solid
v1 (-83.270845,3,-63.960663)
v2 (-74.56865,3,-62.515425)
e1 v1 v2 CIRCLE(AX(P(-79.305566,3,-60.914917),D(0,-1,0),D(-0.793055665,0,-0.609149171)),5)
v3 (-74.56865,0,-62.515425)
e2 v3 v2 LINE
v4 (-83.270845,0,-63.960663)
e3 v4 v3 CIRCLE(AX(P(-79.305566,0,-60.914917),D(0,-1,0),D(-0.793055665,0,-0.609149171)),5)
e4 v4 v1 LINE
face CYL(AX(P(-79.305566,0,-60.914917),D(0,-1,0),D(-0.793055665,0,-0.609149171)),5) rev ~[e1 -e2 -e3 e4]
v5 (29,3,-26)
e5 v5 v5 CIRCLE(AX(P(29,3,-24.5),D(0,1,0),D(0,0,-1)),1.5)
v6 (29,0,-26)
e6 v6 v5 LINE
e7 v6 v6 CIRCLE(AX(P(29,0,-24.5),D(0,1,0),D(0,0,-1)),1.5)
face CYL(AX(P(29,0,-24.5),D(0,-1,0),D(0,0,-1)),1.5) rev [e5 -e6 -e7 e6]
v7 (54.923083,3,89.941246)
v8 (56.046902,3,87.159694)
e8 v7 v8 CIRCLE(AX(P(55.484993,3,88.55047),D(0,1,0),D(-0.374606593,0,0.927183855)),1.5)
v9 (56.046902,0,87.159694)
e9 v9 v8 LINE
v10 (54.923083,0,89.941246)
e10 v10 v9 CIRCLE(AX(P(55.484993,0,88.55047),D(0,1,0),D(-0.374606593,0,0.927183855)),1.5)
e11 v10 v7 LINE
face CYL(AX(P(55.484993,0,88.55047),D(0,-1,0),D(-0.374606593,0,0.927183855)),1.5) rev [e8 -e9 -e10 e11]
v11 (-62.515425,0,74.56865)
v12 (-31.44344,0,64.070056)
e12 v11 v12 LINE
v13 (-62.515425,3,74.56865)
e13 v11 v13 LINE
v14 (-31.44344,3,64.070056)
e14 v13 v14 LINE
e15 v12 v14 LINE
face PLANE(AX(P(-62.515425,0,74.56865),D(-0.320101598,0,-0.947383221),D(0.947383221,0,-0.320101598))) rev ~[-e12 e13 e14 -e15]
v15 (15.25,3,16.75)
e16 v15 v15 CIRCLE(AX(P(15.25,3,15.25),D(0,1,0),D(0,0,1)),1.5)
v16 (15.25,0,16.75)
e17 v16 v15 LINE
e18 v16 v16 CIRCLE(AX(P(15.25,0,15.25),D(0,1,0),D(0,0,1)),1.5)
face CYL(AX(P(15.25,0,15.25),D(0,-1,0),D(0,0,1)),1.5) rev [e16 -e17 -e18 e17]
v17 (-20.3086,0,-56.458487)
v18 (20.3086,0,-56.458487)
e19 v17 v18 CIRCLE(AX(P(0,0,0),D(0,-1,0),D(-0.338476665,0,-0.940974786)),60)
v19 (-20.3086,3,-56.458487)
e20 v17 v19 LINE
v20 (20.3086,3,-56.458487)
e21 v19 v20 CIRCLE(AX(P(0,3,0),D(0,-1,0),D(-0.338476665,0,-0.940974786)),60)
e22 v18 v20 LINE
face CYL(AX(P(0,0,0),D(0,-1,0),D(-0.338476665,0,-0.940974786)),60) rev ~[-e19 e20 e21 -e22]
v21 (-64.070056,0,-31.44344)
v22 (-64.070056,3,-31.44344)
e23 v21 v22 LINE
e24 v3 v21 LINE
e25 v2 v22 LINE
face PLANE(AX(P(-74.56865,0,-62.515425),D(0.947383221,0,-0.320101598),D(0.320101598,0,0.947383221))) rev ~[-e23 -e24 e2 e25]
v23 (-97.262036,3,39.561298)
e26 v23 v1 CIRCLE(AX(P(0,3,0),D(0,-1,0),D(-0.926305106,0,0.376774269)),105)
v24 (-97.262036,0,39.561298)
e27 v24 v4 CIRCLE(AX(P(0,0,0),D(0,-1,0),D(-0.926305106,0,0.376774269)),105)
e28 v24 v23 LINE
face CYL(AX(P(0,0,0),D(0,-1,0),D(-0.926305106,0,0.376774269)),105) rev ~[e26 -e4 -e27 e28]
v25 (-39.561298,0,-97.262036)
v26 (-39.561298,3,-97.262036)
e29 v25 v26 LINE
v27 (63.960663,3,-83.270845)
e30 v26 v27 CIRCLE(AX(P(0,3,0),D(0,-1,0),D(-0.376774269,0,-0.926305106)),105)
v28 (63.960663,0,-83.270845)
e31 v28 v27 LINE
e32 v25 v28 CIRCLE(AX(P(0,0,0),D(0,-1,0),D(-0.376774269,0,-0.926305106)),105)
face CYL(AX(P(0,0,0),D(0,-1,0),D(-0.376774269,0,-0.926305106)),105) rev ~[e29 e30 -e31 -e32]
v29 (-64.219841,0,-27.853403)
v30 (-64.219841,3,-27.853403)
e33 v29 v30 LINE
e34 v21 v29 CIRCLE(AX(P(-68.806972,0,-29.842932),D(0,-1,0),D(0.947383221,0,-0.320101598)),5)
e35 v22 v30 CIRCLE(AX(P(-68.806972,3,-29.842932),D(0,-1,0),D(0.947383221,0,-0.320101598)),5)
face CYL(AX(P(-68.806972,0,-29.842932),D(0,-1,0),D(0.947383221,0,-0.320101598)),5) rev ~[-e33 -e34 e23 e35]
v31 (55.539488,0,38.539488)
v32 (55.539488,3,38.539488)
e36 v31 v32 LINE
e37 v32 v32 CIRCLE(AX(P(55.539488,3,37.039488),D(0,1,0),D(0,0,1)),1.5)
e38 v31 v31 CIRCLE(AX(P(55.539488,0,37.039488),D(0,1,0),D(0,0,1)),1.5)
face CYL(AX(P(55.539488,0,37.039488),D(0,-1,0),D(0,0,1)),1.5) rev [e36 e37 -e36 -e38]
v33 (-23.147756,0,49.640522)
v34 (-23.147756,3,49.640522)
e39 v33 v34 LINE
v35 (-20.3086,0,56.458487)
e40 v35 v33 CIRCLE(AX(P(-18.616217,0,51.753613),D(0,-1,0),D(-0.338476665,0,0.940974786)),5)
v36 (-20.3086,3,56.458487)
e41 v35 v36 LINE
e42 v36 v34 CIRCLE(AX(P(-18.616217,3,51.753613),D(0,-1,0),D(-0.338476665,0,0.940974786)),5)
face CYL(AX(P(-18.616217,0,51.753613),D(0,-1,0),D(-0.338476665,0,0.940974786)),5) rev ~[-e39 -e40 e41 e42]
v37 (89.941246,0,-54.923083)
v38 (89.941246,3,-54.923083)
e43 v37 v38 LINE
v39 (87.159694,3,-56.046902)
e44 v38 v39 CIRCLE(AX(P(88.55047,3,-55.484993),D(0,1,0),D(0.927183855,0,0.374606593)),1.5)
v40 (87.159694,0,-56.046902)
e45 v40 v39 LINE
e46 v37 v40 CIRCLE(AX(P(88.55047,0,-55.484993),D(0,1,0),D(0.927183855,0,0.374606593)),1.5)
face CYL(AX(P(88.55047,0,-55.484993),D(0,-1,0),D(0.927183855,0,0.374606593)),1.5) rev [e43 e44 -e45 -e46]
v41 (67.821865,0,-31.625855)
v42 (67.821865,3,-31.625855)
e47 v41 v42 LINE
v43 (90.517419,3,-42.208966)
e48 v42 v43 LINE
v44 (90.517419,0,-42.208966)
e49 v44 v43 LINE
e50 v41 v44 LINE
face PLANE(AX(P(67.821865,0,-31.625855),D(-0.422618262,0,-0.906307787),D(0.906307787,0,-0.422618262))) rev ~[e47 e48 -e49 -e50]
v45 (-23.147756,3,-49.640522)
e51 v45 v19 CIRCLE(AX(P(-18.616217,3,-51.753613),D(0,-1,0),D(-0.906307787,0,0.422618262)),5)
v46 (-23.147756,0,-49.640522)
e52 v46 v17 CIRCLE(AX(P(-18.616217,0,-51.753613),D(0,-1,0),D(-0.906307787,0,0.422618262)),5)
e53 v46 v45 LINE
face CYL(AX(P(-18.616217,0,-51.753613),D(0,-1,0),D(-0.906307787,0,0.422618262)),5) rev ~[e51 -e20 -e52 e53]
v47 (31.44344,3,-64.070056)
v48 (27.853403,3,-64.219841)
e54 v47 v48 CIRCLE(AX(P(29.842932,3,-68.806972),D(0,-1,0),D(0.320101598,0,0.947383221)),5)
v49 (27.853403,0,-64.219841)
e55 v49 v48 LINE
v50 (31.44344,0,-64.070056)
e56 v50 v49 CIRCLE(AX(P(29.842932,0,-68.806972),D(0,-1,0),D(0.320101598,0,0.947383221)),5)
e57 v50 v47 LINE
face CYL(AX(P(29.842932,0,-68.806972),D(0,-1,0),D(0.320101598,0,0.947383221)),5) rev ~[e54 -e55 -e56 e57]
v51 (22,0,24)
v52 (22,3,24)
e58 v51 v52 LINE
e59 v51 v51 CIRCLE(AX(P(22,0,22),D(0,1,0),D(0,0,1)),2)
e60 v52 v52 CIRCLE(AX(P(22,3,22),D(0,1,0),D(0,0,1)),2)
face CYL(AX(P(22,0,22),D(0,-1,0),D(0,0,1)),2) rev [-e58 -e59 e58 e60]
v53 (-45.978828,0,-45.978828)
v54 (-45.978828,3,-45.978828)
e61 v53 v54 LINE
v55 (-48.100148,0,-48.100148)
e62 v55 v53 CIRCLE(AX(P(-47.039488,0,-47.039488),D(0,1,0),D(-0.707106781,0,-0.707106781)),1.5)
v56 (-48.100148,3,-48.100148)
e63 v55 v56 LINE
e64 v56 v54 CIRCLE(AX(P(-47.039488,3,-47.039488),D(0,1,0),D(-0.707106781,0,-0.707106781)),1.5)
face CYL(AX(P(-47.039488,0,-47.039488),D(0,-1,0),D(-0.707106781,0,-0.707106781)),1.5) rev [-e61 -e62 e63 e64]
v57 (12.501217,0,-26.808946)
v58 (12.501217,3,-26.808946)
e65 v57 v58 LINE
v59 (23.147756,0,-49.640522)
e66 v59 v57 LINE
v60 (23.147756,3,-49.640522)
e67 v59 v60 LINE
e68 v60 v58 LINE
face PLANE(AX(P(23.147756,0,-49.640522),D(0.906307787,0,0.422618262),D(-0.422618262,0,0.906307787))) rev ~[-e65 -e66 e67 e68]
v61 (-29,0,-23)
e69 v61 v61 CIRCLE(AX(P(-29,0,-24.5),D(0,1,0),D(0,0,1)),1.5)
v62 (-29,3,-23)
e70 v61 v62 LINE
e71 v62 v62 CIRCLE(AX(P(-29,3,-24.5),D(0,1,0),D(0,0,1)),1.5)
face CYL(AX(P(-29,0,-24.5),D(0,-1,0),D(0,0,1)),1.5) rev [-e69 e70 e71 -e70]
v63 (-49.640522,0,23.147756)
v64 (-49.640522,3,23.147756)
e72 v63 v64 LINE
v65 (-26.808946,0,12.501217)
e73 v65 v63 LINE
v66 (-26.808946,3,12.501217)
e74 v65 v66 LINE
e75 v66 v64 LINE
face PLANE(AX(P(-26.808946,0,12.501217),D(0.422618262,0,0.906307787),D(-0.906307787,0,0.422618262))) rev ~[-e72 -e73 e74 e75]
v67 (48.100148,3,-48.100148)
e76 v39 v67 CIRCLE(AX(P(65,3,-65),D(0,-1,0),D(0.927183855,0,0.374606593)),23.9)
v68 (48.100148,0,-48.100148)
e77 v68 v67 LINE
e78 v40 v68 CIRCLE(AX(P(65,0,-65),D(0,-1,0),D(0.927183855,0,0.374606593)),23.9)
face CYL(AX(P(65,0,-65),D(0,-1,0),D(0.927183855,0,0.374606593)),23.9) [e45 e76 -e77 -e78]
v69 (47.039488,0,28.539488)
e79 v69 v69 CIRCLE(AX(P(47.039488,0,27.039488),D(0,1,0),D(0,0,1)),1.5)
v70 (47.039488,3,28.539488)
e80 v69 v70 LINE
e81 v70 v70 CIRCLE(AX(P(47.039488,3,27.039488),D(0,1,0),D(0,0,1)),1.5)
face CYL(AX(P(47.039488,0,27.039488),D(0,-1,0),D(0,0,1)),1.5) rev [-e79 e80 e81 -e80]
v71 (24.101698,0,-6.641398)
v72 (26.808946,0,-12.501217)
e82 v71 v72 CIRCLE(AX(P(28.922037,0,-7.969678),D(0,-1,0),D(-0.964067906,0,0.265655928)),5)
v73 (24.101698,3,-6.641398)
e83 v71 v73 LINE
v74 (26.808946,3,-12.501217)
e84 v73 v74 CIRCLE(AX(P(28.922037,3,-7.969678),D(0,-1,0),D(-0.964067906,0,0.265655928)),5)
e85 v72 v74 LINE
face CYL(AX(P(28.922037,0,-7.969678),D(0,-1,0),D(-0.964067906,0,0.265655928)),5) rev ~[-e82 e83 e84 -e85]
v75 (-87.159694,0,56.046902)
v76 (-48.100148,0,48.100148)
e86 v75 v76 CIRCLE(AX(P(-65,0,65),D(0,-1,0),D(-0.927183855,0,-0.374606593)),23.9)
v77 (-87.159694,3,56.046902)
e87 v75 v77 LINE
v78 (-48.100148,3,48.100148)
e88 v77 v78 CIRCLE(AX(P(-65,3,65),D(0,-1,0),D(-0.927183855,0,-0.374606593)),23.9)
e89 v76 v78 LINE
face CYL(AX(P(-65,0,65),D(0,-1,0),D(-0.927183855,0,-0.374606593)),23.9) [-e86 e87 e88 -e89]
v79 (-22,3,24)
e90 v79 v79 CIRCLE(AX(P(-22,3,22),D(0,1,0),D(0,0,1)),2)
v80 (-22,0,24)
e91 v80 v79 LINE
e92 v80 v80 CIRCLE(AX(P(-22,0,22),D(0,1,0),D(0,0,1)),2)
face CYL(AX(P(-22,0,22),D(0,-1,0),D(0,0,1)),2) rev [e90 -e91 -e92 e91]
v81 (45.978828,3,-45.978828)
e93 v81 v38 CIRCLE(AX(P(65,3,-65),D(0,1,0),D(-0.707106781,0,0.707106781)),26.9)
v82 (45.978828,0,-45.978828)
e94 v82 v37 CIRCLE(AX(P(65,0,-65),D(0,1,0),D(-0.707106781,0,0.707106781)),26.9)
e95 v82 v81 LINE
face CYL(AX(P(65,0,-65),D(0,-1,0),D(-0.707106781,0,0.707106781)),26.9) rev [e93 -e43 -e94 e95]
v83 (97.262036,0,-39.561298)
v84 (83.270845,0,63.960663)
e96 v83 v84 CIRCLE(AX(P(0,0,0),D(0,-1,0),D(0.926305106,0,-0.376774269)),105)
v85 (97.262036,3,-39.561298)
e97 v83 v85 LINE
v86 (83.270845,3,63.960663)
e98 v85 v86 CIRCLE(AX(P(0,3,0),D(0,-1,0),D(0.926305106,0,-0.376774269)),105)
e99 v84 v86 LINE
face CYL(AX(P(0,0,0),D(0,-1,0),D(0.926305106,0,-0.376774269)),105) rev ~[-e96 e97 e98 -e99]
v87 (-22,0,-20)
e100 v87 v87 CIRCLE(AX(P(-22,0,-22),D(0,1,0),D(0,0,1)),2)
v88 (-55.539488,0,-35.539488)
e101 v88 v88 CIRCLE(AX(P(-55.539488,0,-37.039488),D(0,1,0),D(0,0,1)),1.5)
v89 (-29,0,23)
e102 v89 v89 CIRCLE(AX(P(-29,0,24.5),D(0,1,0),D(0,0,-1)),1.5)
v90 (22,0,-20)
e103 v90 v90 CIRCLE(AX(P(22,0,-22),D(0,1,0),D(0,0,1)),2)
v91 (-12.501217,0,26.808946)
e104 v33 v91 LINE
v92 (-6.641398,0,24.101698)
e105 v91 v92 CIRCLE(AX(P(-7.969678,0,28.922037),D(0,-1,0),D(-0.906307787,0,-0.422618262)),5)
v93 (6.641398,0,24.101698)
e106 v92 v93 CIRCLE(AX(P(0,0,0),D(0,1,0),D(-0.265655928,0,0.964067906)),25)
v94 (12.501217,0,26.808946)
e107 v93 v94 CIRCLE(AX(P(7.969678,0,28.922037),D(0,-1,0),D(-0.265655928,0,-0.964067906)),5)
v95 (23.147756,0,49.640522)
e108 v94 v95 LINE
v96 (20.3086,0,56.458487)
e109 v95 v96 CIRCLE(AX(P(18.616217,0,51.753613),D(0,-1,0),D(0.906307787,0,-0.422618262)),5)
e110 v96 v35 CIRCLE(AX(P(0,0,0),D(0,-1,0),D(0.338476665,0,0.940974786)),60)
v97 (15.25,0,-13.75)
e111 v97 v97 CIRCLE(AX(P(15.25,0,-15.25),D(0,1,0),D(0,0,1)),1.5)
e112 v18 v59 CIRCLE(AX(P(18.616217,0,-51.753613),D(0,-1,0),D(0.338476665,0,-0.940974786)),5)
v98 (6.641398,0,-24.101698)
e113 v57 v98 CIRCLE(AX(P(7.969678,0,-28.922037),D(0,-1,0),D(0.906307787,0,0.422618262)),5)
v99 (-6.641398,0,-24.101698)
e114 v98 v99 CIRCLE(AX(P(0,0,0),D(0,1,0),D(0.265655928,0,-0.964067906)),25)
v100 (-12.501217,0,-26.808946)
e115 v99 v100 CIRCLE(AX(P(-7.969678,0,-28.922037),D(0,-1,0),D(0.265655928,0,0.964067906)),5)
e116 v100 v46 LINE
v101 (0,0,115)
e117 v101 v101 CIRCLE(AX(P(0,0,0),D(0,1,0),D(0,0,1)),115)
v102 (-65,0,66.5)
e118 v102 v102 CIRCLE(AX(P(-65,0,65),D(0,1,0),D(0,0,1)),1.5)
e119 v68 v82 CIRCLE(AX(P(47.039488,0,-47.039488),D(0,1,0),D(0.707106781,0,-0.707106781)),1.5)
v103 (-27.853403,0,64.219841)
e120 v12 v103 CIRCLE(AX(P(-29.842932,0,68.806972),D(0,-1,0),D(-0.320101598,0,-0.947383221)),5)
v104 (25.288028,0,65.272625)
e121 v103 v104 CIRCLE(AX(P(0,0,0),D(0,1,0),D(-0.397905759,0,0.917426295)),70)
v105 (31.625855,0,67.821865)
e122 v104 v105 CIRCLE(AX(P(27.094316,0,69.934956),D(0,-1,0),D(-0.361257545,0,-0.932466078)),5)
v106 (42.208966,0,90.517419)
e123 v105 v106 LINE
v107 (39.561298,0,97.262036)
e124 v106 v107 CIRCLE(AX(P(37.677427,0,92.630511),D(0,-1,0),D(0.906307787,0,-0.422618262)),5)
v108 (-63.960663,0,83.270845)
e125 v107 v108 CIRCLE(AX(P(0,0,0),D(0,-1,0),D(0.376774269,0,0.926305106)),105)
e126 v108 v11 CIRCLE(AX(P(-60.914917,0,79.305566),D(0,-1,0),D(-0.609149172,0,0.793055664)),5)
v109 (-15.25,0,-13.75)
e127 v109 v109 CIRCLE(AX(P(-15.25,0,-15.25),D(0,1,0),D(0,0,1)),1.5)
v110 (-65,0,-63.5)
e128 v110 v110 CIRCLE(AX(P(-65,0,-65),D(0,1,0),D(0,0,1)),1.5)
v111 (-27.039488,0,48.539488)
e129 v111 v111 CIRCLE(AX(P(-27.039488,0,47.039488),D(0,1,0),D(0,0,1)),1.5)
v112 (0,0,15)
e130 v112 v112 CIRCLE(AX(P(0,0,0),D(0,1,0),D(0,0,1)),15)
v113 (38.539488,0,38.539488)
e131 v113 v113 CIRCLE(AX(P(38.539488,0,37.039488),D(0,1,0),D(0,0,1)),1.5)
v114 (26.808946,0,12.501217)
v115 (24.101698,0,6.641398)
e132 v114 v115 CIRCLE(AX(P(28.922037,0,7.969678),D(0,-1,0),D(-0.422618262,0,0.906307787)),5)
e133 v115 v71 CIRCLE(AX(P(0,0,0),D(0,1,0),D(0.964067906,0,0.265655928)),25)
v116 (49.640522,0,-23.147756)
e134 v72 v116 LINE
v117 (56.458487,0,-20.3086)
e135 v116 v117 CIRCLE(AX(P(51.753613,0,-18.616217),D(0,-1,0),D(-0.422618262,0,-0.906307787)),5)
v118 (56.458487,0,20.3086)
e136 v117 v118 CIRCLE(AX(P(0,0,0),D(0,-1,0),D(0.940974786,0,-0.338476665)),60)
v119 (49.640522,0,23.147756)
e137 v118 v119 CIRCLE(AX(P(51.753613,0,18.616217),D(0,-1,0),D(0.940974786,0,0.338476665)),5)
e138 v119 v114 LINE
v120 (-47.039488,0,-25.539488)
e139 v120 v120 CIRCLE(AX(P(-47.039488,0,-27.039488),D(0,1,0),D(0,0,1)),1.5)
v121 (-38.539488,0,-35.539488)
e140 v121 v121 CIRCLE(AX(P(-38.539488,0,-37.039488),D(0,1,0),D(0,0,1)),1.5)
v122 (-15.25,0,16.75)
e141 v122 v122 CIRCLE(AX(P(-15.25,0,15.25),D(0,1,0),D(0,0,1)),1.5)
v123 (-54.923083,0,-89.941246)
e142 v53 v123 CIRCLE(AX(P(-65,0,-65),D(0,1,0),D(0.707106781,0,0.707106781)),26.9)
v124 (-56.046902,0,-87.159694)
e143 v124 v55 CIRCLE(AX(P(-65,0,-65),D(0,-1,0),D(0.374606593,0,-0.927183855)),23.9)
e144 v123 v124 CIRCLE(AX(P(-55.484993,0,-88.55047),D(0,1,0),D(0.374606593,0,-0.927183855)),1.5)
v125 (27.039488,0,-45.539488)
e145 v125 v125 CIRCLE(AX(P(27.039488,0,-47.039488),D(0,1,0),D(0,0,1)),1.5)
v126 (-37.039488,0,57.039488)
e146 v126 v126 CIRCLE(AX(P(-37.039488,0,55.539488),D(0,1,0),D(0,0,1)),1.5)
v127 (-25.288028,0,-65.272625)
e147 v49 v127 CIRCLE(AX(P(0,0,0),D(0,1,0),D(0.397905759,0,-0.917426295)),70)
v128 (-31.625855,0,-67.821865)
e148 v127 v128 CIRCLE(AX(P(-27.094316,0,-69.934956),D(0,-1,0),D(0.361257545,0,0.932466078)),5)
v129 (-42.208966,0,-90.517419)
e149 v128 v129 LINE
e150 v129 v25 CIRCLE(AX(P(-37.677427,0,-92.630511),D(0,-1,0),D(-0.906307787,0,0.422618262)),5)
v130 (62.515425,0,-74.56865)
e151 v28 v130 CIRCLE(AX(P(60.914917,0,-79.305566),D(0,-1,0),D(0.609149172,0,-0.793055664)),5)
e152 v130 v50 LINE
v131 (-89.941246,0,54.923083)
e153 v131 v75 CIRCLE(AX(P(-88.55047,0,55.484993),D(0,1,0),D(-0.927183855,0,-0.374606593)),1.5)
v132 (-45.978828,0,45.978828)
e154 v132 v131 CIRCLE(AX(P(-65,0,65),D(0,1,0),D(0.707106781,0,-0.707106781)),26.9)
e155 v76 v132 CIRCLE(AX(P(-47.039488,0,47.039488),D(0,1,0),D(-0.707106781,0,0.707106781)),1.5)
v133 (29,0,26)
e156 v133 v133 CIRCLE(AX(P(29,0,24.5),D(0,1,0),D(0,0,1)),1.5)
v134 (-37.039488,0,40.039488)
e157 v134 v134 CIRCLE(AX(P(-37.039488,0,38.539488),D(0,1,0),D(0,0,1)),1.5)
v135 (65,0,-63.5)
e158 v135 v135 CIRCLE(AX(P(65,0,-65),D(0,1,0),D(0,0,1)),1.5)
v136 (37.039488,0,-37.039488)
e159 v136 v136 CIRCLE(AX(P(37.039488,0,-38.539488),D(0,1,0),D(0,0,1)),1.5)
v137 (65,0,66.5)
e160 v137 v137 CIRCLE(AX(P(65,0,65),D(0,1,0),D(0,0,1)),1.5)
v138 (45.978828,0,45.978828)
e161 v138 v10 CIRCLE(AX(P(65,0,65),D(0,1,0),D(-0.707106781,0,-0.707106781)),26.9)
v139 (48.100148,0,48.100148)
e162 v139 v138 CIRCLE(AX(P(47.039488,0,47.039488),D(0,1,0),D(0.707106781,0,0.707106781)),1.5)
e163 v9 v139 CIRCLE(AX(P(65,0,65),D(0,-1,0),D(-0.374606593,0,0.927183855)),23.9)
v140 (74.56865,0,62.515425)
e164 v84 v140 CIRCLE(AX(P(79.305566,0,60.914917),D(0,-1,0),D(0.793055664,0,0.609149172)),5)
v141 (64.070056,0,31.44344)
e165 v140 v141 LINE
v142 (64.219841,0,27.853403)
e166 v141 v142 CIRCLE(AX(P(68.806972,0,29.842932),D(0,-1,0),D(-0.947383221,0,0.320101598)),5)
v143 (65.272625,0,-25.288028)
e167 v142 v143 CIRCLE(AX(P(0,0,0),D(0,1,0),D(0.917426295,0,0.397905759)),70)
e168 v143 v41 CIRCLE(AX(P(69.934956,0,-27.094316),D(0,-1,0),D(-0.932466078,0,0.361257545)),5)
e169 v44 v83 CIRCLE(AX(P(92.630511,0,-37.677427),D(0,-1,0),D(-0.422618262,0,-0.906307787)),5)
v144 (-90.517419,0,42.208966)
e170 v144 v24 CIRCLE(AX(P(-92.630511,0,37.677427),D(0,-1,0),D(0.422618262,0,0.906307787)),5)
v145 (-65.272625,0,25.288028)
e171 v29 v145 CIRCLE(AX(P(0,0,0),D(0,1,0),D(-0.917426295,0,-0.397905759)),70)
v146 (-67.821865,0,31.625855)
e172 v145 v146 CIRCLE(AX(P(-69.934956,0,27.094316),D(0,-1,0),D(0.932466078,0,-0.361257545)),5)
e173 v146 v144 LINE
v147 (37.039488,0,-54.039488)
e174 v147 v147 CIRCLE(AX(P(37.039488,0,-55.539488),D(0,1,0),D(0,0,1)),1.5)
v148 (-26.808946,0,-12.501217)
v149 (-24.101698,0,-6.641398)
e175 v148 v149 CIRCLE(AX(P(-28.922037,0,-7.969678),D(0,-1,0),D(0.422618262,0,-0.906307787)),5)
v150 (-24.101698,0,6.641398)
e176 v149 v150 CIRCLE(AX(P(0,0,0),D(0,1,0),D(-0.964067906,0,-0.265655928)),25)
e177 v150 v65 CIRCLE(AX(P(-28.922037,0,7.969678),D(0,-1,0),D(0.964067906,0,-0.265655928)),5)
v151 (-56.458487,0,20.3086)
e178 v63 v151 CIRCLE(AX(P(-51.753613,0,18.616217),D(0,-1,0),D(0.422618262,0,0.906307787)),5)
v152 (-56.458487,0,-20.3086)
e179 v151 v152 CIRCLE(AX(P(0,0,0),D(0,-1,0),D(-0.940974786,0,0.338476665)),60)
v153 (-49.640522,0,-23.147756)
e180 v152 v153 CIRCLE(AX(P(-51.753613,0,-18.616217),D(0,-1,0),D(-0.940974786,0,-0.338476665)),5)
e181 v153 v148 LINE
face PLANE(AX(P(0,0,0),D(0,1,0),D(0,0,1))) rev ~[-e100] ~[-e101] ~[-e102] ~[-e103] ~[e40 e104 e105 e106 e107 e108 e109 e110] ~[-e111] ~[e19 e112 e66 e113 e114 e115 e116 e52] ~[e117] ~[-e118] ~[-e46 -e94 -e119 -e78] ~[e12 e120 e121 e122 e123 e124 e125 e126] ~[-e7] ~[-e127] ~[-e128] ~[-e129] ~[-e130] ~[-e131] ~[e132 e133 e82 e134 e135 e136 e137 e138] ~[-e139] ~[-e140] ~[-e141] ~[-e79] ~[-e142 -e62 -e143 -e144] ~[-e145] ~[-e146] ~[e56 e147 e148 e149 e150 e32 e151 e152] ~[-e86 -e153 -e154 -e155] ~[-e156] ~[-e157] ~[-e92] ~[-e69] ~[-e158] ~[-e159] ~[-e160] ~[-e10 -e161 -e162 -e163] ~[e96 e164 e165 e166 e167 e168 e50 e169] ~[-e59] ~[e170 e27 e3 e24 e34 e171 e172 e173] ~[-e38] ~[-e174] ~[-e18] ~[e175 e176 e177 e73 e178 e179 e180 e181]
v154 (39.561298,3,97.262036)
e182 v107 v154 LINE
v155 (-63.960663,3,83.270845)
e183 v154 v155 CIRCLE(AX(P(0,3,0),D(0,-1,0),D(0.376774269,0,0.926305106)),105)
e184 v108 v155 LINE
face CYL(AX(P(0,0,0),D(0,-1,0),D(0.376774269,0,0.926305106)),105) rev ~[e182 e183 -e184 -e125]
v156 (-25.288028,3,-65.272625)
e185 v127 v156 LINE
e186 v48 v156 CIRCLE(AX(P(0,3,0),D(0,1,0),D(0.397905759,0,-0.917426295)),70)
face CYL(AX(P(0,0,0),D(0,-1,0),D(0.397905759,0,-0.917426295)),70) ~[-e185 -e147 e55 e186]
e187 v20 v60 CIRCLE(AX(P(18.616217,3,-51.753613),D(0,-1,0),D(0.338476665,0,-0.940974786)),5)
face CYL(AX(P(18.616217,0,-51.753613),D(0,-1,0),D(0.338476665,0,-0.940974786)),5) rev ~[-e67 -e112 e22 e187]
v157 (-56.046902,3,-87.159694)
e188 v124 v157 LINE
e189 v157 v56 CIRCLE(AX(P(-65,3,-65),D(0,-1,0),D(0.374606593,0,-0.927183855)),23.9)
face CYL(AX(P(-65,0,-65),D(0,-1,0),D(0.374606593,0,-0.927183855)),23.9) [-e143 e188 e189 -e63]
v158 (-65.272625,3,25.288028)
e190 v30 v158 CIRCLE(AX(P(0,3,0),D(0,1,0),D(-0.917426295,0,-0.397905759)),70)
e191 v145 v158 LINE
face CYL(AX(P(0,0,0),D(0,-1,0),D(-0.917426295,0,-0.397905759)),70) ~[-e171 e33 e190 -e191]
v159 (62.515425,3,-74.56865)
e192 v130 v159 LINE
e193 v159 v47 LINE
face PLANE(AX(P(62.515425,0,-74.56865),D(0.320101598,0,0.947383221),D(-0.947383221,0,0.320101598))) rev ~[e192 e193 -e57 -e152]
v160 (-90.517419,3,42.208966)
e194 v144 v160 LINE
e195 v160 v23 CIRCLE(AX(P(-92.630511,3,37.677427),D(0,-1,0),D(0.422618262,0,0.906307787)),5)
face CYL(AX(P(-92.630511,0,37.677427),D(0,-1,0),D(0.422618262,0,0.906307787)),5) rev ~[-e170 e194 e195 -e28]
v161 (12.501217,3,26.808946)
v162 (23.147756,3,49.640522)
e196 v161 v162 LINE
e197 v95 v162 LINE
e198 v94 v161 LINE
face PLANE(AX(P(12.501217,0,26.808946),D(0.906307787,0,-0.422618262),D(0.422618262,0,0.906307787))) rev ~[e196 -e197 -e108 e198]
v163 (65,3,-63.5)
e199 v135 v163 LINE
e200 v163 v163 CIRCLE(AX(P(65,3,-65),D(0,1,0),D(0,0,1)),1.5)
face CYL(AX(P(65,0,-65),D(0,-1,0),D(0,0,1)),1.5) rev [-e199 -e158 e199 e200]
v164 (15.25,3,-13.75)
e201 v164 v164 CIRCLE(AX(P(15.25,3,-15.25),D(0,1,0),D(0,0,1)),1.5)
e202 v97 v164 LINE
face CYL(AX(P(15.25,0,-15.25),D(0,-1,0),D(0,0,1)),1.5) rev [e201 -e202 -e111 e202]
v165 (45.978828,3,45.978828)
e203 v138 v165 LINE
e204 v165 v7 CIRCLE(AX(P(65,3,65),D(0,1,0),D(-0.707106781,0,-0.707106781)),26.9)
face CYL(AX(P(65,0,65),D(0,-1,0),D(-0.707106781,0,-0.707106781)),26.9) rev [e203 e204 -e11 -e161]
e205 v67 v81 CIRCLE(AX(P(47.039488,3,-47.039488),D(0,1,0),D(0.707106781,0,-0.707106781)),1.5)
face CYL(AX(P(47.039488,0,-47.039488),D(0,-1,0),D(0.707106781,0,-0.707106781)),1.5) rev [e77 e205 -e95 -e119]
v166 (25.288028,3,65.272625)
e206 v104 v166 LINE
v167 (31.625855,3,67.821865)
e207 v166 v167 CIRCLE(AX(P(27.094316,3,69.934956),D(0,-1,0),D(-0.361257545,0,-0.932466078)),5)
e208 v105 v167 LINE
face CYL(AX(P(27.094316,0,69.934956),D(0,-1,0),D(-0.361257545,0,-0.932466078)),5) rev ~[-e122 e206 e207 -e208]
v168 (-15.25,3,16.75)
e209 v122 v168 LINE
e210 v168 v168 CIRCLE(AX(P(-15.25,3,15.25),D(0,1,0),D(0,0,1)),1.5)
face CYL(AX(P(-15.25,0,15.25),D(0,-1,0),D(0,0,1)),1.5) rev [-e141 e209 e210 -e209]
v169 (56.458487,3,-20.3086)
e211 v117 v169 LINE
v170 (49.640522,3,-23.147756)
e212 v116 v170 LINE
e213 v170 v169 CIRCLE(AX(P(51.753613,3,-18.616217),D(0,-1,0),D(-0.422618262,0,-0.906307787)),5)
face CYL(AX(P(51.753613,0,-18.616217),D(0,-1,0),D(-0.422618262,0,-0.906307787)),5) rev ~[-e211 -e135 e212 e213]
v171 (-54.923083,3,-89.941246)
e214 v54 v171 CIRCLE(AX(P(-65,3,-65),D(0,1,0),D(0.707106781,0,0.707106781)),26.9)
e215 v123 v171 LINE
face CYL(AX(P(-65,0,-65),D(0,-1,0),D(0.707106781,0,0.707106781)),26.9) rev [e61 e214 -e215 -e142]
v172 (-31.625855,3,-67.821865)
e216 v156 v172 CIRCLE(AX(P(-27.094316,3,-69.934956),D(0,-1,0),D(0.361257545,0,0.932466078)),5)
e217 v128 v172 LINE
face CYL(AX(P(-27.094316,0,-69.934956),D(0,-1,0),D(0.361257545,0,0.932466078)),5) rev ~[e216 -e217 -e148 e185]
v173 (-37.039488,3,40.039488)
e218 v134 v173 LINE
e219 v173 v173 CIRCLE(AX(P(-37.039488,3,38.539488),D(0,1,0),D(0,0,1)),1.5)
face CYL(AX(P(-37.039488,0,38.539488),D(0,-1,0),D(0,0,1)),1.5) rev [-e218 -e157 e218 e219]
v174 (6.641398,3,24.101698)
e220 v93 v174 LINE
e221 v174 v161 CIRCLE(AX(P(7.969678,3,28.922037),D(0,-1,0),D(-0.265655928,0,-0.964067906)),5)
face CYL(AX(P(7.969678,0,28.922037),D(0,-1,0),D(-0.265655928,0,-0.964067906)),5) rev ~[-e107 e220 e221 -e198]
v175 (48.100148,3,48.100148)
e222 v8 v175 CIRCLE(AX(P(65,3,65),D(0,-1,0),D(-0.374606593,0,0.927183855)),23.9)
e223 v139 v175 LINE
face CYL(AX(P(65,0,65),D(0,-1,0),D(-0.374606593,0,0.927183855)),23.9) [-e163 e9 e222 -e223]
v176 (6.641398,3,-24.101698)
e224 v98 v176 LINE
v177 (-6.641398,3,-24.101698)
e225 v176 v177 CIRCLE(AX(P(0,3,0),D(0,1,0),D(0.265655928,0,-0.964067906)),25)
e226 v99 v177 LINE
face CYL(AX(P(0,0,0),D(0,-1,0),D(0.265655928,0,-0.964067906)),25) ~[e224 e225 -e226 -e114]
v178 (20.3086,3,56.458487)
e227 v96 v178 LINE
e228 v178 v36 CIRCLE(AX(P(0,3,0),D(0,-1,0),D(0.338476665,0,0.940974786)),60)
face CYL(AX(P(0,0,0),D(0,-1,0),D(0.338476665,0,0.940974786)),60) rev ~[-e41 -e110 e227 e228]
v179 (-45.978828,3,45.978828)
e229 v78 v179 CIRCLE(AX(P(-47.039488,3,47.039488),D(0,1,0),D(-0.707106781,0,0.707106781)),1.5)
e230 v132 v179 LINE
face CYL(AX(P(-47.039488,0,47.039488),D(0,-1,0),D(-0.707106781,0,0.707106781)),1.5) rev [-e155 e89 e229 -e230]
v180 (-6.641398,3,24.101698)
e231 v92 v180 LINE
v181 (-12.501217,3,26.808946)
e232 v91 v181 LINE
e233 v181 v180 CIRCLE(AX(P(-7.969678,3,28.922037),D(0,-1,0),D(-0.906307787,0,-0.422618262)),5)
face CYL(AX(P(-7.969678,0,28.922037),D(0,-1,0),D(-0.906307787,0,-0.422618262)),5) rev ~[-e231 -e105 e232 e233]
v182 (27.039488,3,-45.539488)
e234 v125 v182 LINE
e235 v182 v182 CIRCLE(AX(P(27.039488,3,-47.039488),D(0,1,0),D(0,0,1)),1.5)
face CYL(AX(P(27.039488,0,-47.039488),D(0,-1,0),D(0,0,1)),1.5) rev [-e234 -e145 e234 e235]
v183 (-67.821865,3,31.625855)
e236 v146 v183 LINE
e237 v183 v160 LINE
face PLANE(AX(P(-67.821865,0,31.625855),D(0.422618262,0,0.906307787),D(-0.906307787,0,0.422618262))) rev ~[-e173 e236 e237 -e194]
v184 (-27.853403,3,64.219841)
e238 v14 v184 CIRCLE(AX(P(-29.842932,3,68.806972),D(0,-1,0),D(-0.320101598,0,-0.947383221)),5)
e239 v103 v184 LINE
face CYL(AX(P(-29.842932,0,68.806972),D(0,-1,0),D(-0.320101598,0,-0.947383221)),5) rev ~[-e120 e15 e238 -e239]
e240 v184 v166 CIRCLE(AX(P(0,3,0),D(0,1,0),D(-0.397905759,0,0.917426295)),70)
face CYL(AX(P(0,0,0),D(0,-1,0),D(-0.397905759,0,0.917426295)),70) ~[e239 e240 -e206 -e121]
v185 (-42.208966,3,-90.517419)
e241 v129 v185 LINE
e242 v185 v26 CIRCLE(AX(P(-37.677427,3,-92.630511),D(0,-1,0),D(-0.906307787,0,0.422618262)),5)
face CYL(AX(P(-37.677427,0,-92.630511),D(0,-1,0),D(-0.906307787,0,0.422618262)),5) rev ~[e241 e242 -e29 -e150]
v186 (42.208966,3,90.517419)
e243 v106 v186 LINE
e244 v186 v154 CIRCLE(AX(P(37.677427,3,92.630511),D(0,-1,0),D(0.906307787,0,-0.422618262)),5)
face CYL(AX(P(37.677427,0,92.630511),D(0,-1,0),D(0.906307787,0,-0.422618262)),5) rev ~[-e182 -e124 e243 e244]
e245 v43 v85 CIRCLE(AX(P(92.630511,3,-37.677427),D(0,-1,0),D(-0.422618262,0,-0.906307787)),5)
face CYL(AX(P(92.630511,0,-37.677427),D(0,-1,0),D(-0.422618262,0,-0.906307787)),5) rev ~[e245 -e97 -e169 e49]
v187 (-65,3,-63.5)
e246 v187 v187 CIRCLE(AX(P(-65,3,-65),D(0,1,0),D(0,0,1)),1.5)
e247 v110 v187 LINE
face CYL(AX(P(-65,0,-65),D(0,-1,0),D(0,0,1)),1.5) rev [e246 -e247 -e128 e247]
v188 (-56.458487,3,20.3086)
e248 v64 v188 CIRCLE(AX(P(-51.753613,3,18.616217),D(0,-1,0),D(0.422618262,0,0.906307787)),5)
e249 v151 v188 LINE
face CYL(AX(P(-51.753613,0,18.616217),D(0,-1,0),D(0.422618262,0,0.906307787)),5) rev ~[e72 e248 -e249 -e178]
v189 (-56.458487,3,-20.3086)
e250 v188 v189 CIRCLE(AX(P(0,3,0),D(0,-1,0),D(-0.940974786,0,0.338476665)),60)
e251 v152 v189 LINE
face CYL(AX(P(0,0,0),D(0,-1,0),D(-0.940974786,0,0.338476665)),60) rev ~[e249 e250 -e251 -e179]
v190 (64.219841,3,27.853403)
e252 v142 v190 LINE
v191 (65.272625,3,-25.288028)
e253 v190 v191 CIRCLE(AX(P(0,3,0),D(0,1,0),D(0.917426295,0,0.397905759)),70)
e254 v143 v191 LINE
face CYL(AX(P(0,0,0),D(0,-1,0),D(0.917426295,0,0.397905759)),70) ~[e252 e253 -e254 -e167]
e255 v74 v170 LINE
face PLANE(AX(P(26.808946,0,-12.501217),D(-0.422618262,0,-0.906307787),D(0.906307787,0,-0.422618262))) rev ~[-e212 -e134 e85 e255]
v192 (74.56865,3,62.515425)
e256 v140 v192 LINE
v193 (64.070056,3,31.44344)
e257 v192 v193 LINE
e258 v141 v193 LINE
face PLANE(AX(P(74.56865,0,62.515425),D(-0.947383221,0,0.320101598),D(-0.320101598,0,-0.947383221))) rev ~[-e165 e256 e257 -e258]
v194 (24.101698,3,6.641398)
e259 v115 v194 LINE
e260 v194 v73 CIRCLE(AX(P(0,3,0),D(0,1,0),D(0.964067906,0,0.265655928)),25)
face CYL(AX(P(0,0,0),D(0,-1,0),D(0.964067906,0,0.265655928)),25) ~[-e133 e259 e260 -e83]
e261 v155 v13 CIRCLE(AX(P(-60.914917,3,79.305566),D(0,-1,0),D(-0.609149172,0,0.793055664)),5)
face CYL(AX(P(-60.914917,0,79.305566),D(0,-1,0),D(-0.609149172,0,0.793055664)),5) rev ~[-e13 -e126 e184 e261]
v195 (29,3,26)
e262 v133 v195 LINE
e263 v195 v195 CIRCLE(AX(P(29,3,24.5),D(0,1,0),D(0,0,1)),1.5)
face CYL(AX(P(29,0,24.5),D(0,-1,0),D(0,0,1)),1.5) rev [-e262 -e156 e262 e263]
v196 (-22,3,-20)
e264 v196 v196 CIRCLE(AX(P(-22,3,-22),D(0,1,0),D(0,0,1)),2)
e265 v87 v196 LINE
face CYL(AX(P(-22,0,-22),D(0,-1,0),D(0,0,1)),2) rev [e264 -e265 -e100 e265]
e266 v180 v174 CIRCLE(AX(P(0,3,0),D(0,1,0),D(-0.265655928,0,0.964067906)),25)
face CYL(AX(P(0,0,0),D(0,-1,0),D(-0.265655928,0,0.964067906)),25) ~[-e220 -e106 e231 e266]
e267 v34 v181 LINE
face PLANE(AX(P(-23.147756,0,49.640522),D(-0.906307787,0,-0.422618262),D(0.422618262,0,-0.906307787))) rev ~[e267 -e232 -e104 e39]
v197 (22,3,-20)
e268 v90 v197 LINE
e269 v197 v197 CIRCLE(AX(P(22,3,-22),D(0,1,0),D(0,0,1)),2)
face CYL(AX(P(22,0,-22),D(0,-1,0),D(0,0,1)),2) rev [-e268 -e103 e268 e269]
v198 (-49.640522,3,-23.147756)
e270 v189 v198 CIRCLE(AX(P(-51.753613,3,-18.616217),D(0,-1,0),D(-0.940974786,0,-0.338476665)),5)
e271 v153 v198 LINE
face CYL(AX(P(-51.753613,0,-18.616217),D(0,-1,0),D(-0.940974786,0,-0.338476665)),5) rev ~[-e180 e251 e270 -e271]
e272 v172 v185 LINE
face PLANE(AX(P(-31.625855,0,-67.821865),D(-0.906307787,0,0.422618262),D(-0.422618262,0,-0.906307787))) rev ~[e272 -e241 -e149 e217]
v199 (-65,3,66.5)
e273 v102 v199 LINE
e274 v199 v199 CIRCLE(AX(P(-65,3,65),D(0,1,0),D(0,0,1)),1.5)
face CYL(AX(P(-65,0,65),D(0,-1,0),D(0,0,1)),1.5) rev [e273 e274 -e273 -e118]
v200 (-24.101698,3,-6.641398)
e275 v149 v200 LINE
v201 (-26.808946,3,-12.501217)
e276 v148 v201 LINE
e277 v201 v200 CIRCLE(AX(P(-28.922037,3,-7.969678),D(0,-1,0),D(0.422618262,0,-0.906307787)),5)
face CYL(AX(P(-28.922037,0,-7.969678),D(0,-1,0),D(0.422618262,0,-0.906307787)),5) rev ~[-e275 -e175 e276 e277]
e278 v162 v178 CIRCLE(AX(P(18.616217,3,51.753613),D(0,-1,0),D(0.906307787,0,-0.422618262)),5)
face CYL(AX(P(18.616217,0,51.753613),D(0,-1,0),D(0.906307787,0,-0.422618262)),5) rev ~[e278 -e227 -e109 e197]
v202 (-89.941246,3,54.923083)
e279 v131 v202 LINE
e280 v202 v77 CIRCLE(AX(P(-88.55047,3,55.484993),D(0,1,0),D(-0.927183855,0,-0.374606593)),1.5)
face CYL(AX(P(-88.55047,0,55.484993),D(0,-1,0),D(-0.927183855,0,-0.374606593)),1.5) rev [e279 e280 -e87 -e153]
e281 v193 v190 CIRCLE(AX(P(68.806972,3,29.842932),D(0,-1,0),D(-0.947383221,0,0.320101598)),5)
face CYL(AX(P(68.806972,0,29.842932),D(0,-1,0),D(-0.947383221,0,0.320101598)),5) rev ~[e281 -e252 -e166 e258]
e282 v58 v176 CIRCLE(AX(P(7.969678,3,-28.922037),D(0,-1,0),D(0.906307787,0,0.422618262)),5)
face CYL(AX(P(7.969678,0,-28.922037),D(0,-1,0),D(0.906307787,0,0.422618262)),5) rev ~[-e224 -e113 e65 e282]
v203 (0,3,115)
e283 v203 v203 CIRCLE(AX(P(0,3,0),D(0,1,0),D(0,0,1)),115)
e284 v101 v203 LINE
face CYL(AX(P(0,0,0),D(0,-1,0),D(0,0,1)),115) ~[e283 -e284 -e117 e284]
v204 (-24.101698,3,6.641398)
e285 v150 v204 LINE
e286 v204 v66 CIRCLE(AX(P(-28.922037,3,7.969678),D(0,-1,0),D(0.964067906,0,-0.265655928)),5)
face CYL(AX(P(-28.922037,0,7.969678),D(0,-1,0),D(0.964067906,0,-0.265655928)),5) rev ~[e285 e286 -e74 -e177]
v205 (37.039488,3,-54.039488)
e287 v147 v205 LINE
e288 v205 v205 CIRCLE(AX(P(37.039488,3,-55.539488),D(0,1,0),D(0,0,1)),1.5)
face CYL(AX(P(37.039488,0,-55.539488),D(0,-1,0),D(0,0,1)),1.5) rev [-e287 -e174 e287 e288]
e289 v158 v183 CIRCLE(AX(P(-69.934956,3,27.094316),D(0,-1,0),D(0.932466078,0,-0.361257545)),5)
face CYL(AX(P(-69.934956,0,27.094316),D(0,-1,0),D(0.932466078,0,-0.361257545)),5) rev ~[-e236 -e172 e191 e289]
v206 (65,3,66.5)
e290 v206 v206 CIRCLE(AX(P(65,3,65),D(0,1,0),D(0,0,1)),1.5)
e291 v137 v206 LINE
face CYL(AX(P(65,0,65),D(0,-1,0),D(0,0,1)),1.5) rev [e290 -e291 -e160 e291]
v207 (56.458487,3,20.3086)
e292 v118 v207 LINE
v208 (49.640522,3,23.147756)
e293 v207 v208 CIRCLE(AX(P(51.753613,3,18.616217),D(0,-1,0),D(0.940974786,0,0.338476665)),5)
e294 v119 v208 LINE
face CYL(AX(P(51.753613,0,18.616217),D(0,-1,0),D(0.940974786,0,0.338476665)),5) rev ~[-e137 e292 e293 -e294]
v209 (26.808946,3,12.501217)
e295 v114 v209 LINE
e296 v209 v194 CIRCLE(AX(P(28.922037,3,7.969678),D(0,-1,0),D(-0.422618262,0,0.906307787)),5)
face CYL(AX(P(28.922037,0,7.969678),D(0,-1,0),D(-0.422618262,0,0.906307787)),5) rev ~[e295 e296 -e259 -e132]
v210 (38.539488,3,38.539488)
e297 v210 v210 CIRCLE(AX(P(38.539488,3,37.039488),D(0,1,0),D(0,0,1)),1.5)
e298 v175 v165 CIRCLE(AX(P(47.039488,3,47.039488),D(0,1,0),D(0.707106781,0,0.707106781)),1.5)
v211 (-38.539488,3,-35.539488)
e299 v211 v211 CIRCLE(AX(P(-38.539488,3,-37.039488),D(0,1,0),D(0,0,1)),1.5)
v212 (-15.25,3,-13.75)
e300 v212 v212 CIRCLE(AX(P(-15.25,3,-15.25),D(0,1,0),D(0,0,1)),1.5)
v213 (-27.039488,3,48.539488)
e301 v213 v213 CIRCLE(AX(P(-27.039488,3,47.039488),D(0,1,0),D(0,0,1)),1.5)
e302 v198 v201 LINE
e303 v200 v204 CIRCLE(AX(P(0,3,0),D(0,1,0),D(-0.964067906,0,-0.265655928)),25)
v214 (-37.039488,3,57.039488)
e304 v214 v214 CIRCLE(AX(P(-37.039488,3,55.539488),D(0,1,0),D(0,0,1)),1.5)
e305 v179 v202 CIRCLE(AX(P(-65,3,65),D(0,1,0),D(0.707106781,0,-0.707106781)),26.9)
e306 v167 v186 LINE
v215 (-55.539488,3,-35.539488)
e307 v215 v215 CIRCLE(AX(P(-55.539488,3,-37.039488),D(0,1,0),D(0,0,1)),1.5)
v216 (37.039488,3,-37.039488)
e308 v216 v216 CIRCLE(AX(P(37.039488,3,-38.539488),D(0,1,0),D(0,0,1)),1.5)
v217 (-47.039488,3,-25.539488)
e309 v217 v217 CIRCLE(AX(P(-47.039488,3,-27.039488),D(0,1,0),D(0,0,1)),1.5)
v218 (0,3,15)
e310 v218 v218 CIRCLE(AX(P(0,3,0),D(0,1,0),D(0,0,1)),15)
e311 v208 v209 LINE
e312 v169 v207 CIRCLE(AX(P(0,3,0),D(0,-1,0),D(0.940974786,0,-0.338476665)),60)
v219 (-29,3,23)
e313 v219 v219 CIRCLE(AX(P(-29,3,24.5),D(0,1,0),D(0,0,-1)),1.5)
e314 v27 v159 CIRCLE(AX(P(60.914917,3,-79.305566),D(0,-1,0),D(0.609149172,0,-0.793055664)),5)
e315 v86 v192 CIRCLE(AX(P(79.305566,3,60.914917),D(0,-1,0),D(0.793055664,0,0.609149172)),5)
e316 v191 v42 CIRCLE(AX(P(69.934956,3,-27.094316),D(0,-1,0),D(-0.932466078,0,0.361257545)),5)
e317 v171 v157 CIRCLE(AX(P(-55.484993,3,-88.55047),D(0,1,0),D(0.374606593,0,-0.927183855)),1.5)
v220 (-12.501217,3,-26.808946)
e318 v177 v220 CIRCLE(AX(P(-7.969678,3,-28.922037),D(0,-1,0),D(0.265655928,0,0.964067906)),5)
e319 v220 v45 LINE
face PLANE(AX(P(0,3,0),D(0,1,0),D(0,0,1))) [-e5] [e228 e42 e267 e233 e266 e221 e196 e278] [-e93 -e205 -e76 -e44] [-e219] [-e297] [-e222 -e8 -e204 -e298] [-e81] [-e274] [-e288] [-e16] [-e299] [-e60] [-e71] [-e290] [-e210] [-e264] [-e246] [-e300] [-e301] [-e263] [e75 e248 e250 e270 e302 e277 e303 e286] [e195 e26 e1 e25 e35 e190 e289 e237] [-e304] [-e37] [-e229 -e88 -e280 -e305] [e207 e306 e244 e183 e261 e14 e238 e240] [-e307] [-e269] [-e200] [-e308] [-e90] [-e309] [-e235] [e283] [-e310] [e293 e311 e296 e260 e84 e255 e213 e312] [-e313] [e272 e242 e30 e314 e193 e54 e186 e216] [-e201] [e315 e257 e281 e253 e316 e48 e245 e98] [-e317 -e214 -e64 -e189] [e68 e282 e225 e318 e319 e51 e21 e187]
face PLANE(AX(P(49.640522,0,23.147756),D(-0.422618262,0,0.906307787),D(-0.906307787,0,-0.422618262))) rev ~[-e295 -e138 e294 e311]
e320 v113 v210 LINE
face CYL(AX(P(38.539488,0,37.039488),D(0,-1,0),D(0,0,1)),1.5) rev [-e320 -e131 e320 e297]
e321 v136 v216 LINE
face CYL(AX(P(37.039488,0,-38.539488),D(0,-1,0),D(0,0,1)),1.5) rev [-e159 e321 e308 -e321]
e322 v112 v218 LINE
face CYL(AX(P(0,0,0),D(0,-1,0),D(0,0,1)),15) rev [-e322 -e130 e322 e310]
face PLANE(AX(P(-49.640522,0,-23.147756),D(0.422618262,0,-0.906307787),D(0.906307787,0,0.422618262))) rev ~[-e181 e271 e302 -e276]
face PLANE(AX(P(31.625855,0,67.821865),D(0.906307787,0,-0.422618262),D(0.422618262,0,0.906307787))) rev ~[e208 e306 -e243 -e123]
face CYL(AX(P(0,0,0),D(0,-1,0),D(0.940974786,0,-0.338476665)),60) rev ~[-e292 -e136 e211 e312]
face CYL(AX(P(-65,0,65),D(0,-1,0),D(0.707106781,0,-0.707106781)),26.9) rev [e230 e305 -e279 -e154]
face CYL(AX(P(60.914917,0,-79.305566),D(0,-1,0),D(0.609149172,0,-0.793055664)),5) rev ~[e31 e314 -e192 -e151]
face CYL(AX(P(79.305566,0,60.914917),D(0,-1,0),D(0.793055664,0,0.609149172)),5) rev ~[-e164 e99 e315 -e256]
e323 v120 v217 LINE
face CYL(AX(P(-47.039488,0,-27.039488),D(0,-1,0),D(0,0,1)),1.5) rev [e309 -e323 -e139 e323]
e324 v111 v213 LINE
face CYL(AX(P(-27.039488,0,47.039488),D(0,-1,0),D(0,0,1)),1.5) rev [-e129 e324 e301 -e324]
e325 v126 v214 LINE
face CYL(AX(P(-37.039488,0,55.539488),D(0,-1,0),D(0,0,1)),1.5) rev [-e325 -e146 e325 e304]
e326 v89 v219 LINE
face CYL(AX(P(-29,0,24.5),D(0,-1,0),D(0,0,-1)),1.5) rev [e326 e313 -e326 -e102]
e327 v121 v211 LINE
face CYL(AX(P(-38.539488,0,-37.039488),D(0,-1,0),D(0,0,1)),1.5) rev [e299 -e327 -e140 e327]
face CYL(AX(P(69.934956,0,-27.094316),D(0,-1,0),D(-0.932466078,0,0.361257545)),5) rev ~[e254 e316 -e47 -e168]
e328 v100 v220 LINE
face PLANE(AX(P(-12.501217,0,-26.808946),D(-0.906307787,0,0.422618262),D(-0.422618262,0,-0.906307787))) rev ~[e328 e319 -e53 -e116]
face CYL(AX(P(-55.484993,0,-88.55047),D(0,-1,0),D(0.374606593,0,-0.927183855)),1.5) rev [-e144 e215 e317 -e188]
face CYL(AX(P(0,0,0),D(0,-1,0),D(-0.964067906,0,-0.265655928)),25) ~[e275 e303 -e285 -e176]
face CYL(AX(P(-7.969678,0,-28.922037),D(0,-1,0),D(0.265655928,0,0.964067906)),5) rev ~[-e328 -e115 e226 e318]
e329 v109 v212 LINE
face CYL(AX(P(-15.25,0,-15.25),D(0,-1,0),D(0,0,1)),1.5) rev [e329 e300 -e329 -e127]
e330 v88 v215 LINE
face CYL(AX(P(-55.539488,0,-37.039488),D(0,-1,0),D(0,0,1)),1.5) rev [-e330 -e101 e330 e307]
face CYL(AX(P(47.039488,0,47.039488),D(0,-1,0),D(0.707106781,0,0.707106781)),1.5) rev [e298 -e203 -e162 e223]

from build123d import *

# Parameters (mm, degrees)
SKETCH1_R           = 115
SKETCH1_R_2         = 1.5
SKETCH1_R_3         = 2
SKETCH1_R_4         = 15
BOSS_EXTRUDE3_DEPTH = 3


with BuildPart() as part:
    # Sketch1 → Boss-Extrude3 (new body)
    with BuildSketch(Plane(origin=(0, 0, 0), x_dir=(1, 0, 0), z_dir=(0, 1, 0))):
        with Locations(Location((0, 0, 0), (0, 0, 270))):
            Circle(SKETCH1_R)
        with Locations(Location((-65, 65, 0), (0, 0, 270))):
            Circle(SKETCH1_R_2, mode=Mode.SUBTRACT)
        with Locations(Location((-47.039487758, 27.039487758, 0), (0, 0, 270))):
            Circle(SKETCH1_R_2, mode=Mode.SUBTRACT)
        with Locations(Location((65, 65, 0), (0, 0, 270))):
            Circle(SKETCH1_R_2, mode=Mode.SUBTRACT)
        with Locations(Location((27.039487758, 47.039487758, 0), (0, 0, 270))):
            Circle(SKETCH1_R_2, mode=Mode.SUBTRACT)
        with Locations(Location((15.25, 15.25, 0), (0, 0, 270))):
            Circle(SKETCH1_R_2, mode=Mode.SUBTRACT)
        with Locations(Location((22, 22, 0), (0, 0, 270))):
            Circle(SKETCH1_R_3, mode=Mode.SUBTRACT)
        with Locations(Location((37.039487758, 55.539487758, 0), (0, 0, 270))):
            Circle(SKETCH1_R_2, mode=Mode.SUBTRACT)
        with Locations(Location((37.039487758, 38.539487758, 0), (0, 0, 270))):
            Circle(SKETCH1_R_2, mode=Mode.SUBTRACT)
        with Locations(Location((65, -65, 0), (0, 0, 270))):
            Circle(SKETCH1_R_2, mode=Mode.SUBTRACT)
        with Locations(Location((47.039487758, -27.039487758, 0), (0, 0, 270))):
            Circle(SKETCH1_R_2, mode=Mode.SUBTRACT)
        with Locations(Location((15.25, -15.25, 0), (0, 0, 270))):
            Circle(SKETCH1_R_2, mode=Mode.SUBTRACT)
        with Locations(Location((22, -22, 0), (0, 0, 270))):
            Circle(SKETCH1_R_3, mode=Mode.SUBTRACT)
        with Locations(Location((55.539487758, -37.039487758, 0), (0, 0, 270))):
            Circle(SKETCH1_R_2, mode=Mode.SUBTRACT)
        with Locations(Location((38.539487758, -37.039487758, 0), (0, 0, 270))):
            Circle(SKETCH1_R_2, mode=Mode.SUBTRACT)
        with Locations(Location((-65, -65, 0), (0, 0, 270))):
            Circle(SKETCH1_R_2, mode=Mode.SUBTRACT)
        with Locations(Location((0, 0, 0), (0, 0, 270))):
            Circle(SKETCH1_R_4, mode=Mode.SUBTRACT)
        with Locations(Location((-15.25, 15.25, 0), (0, 0, 270))):
            Circle(SKETCH1_R_2, mode=Mode.SUBTRACT)
        with Locations(Location((-22, 22, 0), (0, 0, 270))):
            Circle(SKETCH1_R_3, mode=Mode.SUBTRACT)
        with Locations(Location((-55.539487758, 37.039487758, 0), (0, 0, 270))):
            Circle(SKETCH1_R_2, mode=Mode.SUBTRACT)
        with Locations(Location((-27.039487758, -47.039487758, 0), (0, 0, 270))):
            Circle(SKETCH1_R_2, mode=Mode.SUBTRACT)
        with Locations(Location((-15.25, -15.25, 0), (0, 0, 270))):
            Circle(SKETCH1_R_2, mode=Mode.SUBTRACT)
        with Locations(Location((-22, -22, 0), (0, 0, 270))):
            Circle(SKETCH1_R_3, mode=Mode.SUBTRACT)
        with Locations(Location((-37.039487758, -55.539487758, 0), (0, 0, 270))):
            Circle(SKETCH1_R_2, mode=Mode.SUBTRACT)
        with Locations(Location((-37.039487758, -38.539487758, 0), (0, 0, 270))):
            Circle(SKETCH1_R_2, mode=Mode.SUBTRACT)
        with Locations(Location((29, 24.5, 0), (0, 0, 90))):
            Circle(SKETCH1_R_2, mode=Mode.SUBTRACT)
        with Locations(Location((29, -24.5, 0), (0, 0, 270))):
            Circle(SKETCH1_R_2, mode=Mode.SUBTRACT)
        with Locations(Location((-29, -24.5, 0), (0, 0, 90))):
            Circle(SKETCH1_R_2, mode=Mode.SUBTRACT)
        with Locations(Location((-29, 24.5, 0), (0, 0, 270))):
            Circle(SKETCH1_R_2, mode=Mode.SUBTRACT)
        with Locations(Location((-38.539487758, 37.039487758, 0), (0, 0, 270))):
            Circle(SKETCH1_R_2, mode=Mode.SUBTRACT)
        with BuildLine():
            Line((26.808945881, 12.501216771), (49.6405219, 23.147755517))
            ThreePointArc((49.6405219, 23.147755517), (53.675730643, 23.232000867), (56.458487137, 20.308599907))
            ThreePointArc((56.458487137, 20.308599907), (60, 0), (56.458487137, -20.308599907))
            ThreePointArc((56.458487137, -20.308599907), (53.675730643, -23.232000867), (49.6405219, -23.147755517))
            Line((49.6405219, -23.147755517), (26.808945881, -12.501216771))
            ThreePointArc((26.808945881, -12.501216771), (24.383041239, -10.066703292), (24.101697658, -6.641398197))
            ThreePointArc((24.101697658, -6.641398197), (25, 0), (24.101697658, 6.641398197))
            ThreePointArc((24.101697658, 6.641398197), (24.383041239, 10.066703292), (26.808945881, 12.501216771))
        make_face(mode=Mode.SUBTRACT)
        with BuildLine():
            Line((67.821864521, 31.625854817), (90.517419336, 42.208965833))
            ThreePointArc((90.517419336, 42.208965833), (94.457574862, 42.331654691), (97.262036177, 39.561298243))
            ThreePointArc((97.262036177, 39.561298243), (104.05397345, -14.063093872), (83.270844776, -63.960662992))
            ThreePointArc((83.270844776, -63.960662992), (78.486399596, -65.847357267), (74.568650349, -62.515425125))
            Line((74.568650349, -62.515425125), (64.070056019, -31.443439938))
            ThreePointArc((64.070056019, -31.443439938), (63.811318327, -29.63450173), (64.219840648, -27.853403152))
            ThreePointArc((64.219840648, -27.853403152), (69.986267395, -1.386497808), (65.272625441, 25.288028156))
            ThreePointArc((65.272625441, 25.288028156), (65.296141705, 28.960167834), (67.821864521, 31.625854817))
        make_face(mode=Mode.SUBTRACT)
        with BuildLine():
            Line((12.501216771, -26.808945881), (23.147755517, -49.6405219))
            ThreePointArc((23.147755517, -49.6405219), (23.232000867, -53.675730643), (20.308599907, -56.458487137))
            ThreePointArc((20.308599907, -56.458487137), (0, -60), (-20.308599907, -56.458487137))
            ThreePointArc((-20.308599907, -56.458487137), (-23.232000867, -53.675730643), (-23.147755517, -49.6405219))
            Line((-23.147755517, -49.6405219), (-12.501216771, -26.808945881))
            ThreePointArc((-12.501216771, -26.808945881), (-10.066703292, -24.383041239), (-6.641398197, -24.101697658))
            ThreePointArc((-6.641398197, -24.101697658), (0, -25), (6.641398197, -24.101697658))
            ThreePointArc((6.641398197, -24.101697658), (10.066703292, -24.383041239), (12.501216771, -26.808945881))
        make_face(mode=Mode.SUBTRACT)
        with BuildLine():
            Line((-26.808945881, -12.501216771), (-49.6405219, -23.147755517))
            ThreePointArc((-49.6405219, -23.147755517), (-53.675730643, -23.232000867), (-56.458487137, -20.308599907))
            ThreePointArc((-56.458487137, -20.308599907), (-60, 0), (-56.458487137, 20.308599907))
            ThreePointArc((-56.458487137, 20.308599907), (-53.675730643, 23.232000867), (-49.6405219, 23.147755517))
            Line((-49.6405219, 23.147755517), (-26.808945881, 12.501216771))
            ThreePointArc((-26.808945881, 12.501216771), (-24.383041239, 10.066703292), (-24.101697658, 6.641398197))
            ThreePointArc((-24.101697658, 6.641398197), (-25, 0), (-24.101697658, -6.641398197))
            ThreePointArc((-24.101697658, -6.641398197), (-24.383041239, -10.066703292), (-26.808945881, -12.501216771))
        make_face(mode=Mode.SUBTRACT)
        with BuildLine():
            Line((-12.501216771, 26.808945881), (-23.147755517, 49.6405219))
            ThreePointArc((-23.147755517, 49.6405219), (-23.232000867, 53.675730643), (-20.308599907, 56.458487137))
            ThreePointArc((-20.308599907, 56.458487137), (0, 60), (20.308599907, 56.458487137))
            ThreePointArc((20.308599907, 56.458487137), (23.232000867, 53.675730643), (23.147755517, 49.6405219))
            Line((23.147755517, 49.6405219), (12.501216771, 26.808945881))
            ThreePointArc((12.501216771, 26.808945881), (10.066703292, 24.383041239), (6.641398197, 24.101697658))
            ThreePointArc((6.641398197, 24.101697658), (0, 25), (-6.641398197, 24.101697658))
            ThreePointArc((-6.641398197, 24.101697658), (-10.066703292, 24.383041239), (-12.501216771, 26.808945881))
        make_face(mode=Mode.SUBTRACT)
        with BuildLine():
            Line((31.625854817, -67.821864521), (42.208965833, -90.517419336))
            ThreePointArc((42.208965833, -90.517419336), (42.331654691, -94.457574862), (39.561298243, -97.262036177))
            ThreePointArc((39.561298243, -97.262036177), (-14.063093872, -104.05397345), (-63.960662992, -83.270844776))
            ThreePointArc((-63.960662992, -83.270844776), (-65.847357267, -78.486399596), (-62.515425125, -74.568650349))
            Line((-62.515425125, -74.568650349), (-31.443439938, -64.070056019))
            ThreePointArc((-31.443439938, -64.070056019), (-29.63450173, -63.811318327), (-27.853403152, -64.219840648))
            ThreePointArc((-27.853403152, -64.219840648), (-1.386497808, -69.986267395), (25.288028156, -65.272625441))
            ThreePointArc((25.288028156, -65.272625441), (28.960167834, -65.296141705), (31.625854817, -67.821864521))
        make_face(mode=Mode.SUBTRACT)
        with BuildLine():
            Line((-67.821864521, -31.625854817), (-90.517419336, -42.208965833))
            ThreePointArc((-90.517419336, -42.208965833), (-94.457574862, -42.331654691), (-97.262036177, -39.561298243))
            ThreePointArc((-97.262036177, -39.561298243), (-104.05397345, 14.063093872), (-83.270844776, 63.960662991))
            ThreePointArc((-83.270844776, 63.960662991), (-78.486399596, 65.847357267), (-74.568650349, 62.515425125))
            Line((-74.568650349, 62.515425125), (-64.070056019, 31.443439938))
            ThreePointArc((-64.070056019, 31.443439938), (-63.811318327, 29.63450173), (-64.219840648, 27.853403152))
            ThreePointArc((-64.219840648, 27.853403152), (-69.986267395, 1.386497808), (-65.272625441, -25.288028156))
            ThreePointArc((-65.272625441, -25.288028156), (-65.296141705, -28.960167834), (-67.821864521, -31.625854817))
        make_face(mode=Mode.SUBTRACT)
        with BuildLine():
            Line((-31.625854817, 67.821864521), (-42.208965833, 90.517419336))
            ThreePointArc((-42.208965833, 90.517419336), (-42.331654691, 94.457574862), (-39.561298243, 97.262036177))
            ThreePointArc((-39.561298243, 97.262036177), (14.063093872, 104.05397345), (63.960662992, 83.270844776))
            ThreePointArc((63.960662992, 83.270844776), (65.847357267, 78.486399596), (62.515425125, 74.568650349))
            Line((62.515425125, 74.568650349), (31.443439938, 64.070056019))
            ThreePointArc((31.443439938, 64.070056019), (29.63450173, 63.811318327), (27.853403152, 64.219840648))
            ThreePointArc((27.853403152, 64.219840648), (1.386497808, 69.986267395), (-25.288028156, 65.272625441))
            ThreePointArc((-25.288028156, 65.272625441), (-28.960167834, 65.296141705), (-31.625854817, 67.821864521))
        make_face(mode=Mode.SUBTRACT)
        with BuildLine():
            ThreePointArc((-45.978827586, 45.978827586), (-38.640025446, 70.362997436), (-54.923082637, 89.941245688))
            ThreePointArc((-54.923082637, 89.941245688), (-56.875768309, 89.112379796), (-56.046902417, 87.159694124))
            ThreePointArc((-56.046902417, 87.159694124), (-41.57979956, 69.764893633), (-48.10014793, 48.10014793))
            ThreePointArc((-48.10014793, 48.10014793), (-48.10014793, 45.978827586), (-45.978827586, 45.978827586))
        make_face(mode=Mode.SUBTRACT)
        with BuildLine():
            ThreePointArc((45.978827586, 45.978827586), (70.362997436, 38.640025446), (89.941245688, 54.923082637))
            ThreePointArc((89.941245688, 54.923082637), (89.112379796, 56.875768309), (87.159694124, 56.046902417))
            ThreePointArc((87.159694124, 56.046902417), (69.764893633, 41.57979956), (48.10014793, 48.10014793))
            ThreePointArc((48.10014793, 48.10014793), (45.978827586, 48.10014793), (45.978827586, 45.978827586))
        make_face(mode=Mode.SUBTRACT)
        with BuildLine():
            ThreePointArc((45.978827586, -45.978827586), (38.640025446, -70.362997436), (54.923082637, -89.941245688))
            ThreePointArc((54.923082637, -89.941245688), (56.875768309, -89.112379796), (56.046902417, -87.159694124))
            ThreePointArc((56.046902417, -87.159694124), (41.57979956, -69.764893633), (48.10014793, -48.10014793))
            ThreePointArc((48.10014793, -48.10014793), (48.10014793, -45.978827586), (45.978827586, -45.978827586))
        make_face(mode=Mode.SUBTRACT)
        with BuildLine():
            ThreePointArc((-45.978827586, -45.978827586), (-70.362997436, -38.640025446), (-89.941245688, -54.923082637))
            ThreePointArc((-89.941245688, -54.923082637), (-89.112379796, -56.875768309), (-87.159694124, -56.046902417))
            ThreePointArc((-87.159694124, -56.046902417), (-69.764893633, -41.57979956), (-48.10014793, -48.10014793))
            ThreePointArc((-48.10014793, -48.10014793), (-45.978827586, -48.10014793), (-45.978827586, -45.978827586))
        make_face(mode=Mode.SUBTRACT)
    extrude(amount=BOSS_EXTRUDE3_DEPTH)


solid = part.part
